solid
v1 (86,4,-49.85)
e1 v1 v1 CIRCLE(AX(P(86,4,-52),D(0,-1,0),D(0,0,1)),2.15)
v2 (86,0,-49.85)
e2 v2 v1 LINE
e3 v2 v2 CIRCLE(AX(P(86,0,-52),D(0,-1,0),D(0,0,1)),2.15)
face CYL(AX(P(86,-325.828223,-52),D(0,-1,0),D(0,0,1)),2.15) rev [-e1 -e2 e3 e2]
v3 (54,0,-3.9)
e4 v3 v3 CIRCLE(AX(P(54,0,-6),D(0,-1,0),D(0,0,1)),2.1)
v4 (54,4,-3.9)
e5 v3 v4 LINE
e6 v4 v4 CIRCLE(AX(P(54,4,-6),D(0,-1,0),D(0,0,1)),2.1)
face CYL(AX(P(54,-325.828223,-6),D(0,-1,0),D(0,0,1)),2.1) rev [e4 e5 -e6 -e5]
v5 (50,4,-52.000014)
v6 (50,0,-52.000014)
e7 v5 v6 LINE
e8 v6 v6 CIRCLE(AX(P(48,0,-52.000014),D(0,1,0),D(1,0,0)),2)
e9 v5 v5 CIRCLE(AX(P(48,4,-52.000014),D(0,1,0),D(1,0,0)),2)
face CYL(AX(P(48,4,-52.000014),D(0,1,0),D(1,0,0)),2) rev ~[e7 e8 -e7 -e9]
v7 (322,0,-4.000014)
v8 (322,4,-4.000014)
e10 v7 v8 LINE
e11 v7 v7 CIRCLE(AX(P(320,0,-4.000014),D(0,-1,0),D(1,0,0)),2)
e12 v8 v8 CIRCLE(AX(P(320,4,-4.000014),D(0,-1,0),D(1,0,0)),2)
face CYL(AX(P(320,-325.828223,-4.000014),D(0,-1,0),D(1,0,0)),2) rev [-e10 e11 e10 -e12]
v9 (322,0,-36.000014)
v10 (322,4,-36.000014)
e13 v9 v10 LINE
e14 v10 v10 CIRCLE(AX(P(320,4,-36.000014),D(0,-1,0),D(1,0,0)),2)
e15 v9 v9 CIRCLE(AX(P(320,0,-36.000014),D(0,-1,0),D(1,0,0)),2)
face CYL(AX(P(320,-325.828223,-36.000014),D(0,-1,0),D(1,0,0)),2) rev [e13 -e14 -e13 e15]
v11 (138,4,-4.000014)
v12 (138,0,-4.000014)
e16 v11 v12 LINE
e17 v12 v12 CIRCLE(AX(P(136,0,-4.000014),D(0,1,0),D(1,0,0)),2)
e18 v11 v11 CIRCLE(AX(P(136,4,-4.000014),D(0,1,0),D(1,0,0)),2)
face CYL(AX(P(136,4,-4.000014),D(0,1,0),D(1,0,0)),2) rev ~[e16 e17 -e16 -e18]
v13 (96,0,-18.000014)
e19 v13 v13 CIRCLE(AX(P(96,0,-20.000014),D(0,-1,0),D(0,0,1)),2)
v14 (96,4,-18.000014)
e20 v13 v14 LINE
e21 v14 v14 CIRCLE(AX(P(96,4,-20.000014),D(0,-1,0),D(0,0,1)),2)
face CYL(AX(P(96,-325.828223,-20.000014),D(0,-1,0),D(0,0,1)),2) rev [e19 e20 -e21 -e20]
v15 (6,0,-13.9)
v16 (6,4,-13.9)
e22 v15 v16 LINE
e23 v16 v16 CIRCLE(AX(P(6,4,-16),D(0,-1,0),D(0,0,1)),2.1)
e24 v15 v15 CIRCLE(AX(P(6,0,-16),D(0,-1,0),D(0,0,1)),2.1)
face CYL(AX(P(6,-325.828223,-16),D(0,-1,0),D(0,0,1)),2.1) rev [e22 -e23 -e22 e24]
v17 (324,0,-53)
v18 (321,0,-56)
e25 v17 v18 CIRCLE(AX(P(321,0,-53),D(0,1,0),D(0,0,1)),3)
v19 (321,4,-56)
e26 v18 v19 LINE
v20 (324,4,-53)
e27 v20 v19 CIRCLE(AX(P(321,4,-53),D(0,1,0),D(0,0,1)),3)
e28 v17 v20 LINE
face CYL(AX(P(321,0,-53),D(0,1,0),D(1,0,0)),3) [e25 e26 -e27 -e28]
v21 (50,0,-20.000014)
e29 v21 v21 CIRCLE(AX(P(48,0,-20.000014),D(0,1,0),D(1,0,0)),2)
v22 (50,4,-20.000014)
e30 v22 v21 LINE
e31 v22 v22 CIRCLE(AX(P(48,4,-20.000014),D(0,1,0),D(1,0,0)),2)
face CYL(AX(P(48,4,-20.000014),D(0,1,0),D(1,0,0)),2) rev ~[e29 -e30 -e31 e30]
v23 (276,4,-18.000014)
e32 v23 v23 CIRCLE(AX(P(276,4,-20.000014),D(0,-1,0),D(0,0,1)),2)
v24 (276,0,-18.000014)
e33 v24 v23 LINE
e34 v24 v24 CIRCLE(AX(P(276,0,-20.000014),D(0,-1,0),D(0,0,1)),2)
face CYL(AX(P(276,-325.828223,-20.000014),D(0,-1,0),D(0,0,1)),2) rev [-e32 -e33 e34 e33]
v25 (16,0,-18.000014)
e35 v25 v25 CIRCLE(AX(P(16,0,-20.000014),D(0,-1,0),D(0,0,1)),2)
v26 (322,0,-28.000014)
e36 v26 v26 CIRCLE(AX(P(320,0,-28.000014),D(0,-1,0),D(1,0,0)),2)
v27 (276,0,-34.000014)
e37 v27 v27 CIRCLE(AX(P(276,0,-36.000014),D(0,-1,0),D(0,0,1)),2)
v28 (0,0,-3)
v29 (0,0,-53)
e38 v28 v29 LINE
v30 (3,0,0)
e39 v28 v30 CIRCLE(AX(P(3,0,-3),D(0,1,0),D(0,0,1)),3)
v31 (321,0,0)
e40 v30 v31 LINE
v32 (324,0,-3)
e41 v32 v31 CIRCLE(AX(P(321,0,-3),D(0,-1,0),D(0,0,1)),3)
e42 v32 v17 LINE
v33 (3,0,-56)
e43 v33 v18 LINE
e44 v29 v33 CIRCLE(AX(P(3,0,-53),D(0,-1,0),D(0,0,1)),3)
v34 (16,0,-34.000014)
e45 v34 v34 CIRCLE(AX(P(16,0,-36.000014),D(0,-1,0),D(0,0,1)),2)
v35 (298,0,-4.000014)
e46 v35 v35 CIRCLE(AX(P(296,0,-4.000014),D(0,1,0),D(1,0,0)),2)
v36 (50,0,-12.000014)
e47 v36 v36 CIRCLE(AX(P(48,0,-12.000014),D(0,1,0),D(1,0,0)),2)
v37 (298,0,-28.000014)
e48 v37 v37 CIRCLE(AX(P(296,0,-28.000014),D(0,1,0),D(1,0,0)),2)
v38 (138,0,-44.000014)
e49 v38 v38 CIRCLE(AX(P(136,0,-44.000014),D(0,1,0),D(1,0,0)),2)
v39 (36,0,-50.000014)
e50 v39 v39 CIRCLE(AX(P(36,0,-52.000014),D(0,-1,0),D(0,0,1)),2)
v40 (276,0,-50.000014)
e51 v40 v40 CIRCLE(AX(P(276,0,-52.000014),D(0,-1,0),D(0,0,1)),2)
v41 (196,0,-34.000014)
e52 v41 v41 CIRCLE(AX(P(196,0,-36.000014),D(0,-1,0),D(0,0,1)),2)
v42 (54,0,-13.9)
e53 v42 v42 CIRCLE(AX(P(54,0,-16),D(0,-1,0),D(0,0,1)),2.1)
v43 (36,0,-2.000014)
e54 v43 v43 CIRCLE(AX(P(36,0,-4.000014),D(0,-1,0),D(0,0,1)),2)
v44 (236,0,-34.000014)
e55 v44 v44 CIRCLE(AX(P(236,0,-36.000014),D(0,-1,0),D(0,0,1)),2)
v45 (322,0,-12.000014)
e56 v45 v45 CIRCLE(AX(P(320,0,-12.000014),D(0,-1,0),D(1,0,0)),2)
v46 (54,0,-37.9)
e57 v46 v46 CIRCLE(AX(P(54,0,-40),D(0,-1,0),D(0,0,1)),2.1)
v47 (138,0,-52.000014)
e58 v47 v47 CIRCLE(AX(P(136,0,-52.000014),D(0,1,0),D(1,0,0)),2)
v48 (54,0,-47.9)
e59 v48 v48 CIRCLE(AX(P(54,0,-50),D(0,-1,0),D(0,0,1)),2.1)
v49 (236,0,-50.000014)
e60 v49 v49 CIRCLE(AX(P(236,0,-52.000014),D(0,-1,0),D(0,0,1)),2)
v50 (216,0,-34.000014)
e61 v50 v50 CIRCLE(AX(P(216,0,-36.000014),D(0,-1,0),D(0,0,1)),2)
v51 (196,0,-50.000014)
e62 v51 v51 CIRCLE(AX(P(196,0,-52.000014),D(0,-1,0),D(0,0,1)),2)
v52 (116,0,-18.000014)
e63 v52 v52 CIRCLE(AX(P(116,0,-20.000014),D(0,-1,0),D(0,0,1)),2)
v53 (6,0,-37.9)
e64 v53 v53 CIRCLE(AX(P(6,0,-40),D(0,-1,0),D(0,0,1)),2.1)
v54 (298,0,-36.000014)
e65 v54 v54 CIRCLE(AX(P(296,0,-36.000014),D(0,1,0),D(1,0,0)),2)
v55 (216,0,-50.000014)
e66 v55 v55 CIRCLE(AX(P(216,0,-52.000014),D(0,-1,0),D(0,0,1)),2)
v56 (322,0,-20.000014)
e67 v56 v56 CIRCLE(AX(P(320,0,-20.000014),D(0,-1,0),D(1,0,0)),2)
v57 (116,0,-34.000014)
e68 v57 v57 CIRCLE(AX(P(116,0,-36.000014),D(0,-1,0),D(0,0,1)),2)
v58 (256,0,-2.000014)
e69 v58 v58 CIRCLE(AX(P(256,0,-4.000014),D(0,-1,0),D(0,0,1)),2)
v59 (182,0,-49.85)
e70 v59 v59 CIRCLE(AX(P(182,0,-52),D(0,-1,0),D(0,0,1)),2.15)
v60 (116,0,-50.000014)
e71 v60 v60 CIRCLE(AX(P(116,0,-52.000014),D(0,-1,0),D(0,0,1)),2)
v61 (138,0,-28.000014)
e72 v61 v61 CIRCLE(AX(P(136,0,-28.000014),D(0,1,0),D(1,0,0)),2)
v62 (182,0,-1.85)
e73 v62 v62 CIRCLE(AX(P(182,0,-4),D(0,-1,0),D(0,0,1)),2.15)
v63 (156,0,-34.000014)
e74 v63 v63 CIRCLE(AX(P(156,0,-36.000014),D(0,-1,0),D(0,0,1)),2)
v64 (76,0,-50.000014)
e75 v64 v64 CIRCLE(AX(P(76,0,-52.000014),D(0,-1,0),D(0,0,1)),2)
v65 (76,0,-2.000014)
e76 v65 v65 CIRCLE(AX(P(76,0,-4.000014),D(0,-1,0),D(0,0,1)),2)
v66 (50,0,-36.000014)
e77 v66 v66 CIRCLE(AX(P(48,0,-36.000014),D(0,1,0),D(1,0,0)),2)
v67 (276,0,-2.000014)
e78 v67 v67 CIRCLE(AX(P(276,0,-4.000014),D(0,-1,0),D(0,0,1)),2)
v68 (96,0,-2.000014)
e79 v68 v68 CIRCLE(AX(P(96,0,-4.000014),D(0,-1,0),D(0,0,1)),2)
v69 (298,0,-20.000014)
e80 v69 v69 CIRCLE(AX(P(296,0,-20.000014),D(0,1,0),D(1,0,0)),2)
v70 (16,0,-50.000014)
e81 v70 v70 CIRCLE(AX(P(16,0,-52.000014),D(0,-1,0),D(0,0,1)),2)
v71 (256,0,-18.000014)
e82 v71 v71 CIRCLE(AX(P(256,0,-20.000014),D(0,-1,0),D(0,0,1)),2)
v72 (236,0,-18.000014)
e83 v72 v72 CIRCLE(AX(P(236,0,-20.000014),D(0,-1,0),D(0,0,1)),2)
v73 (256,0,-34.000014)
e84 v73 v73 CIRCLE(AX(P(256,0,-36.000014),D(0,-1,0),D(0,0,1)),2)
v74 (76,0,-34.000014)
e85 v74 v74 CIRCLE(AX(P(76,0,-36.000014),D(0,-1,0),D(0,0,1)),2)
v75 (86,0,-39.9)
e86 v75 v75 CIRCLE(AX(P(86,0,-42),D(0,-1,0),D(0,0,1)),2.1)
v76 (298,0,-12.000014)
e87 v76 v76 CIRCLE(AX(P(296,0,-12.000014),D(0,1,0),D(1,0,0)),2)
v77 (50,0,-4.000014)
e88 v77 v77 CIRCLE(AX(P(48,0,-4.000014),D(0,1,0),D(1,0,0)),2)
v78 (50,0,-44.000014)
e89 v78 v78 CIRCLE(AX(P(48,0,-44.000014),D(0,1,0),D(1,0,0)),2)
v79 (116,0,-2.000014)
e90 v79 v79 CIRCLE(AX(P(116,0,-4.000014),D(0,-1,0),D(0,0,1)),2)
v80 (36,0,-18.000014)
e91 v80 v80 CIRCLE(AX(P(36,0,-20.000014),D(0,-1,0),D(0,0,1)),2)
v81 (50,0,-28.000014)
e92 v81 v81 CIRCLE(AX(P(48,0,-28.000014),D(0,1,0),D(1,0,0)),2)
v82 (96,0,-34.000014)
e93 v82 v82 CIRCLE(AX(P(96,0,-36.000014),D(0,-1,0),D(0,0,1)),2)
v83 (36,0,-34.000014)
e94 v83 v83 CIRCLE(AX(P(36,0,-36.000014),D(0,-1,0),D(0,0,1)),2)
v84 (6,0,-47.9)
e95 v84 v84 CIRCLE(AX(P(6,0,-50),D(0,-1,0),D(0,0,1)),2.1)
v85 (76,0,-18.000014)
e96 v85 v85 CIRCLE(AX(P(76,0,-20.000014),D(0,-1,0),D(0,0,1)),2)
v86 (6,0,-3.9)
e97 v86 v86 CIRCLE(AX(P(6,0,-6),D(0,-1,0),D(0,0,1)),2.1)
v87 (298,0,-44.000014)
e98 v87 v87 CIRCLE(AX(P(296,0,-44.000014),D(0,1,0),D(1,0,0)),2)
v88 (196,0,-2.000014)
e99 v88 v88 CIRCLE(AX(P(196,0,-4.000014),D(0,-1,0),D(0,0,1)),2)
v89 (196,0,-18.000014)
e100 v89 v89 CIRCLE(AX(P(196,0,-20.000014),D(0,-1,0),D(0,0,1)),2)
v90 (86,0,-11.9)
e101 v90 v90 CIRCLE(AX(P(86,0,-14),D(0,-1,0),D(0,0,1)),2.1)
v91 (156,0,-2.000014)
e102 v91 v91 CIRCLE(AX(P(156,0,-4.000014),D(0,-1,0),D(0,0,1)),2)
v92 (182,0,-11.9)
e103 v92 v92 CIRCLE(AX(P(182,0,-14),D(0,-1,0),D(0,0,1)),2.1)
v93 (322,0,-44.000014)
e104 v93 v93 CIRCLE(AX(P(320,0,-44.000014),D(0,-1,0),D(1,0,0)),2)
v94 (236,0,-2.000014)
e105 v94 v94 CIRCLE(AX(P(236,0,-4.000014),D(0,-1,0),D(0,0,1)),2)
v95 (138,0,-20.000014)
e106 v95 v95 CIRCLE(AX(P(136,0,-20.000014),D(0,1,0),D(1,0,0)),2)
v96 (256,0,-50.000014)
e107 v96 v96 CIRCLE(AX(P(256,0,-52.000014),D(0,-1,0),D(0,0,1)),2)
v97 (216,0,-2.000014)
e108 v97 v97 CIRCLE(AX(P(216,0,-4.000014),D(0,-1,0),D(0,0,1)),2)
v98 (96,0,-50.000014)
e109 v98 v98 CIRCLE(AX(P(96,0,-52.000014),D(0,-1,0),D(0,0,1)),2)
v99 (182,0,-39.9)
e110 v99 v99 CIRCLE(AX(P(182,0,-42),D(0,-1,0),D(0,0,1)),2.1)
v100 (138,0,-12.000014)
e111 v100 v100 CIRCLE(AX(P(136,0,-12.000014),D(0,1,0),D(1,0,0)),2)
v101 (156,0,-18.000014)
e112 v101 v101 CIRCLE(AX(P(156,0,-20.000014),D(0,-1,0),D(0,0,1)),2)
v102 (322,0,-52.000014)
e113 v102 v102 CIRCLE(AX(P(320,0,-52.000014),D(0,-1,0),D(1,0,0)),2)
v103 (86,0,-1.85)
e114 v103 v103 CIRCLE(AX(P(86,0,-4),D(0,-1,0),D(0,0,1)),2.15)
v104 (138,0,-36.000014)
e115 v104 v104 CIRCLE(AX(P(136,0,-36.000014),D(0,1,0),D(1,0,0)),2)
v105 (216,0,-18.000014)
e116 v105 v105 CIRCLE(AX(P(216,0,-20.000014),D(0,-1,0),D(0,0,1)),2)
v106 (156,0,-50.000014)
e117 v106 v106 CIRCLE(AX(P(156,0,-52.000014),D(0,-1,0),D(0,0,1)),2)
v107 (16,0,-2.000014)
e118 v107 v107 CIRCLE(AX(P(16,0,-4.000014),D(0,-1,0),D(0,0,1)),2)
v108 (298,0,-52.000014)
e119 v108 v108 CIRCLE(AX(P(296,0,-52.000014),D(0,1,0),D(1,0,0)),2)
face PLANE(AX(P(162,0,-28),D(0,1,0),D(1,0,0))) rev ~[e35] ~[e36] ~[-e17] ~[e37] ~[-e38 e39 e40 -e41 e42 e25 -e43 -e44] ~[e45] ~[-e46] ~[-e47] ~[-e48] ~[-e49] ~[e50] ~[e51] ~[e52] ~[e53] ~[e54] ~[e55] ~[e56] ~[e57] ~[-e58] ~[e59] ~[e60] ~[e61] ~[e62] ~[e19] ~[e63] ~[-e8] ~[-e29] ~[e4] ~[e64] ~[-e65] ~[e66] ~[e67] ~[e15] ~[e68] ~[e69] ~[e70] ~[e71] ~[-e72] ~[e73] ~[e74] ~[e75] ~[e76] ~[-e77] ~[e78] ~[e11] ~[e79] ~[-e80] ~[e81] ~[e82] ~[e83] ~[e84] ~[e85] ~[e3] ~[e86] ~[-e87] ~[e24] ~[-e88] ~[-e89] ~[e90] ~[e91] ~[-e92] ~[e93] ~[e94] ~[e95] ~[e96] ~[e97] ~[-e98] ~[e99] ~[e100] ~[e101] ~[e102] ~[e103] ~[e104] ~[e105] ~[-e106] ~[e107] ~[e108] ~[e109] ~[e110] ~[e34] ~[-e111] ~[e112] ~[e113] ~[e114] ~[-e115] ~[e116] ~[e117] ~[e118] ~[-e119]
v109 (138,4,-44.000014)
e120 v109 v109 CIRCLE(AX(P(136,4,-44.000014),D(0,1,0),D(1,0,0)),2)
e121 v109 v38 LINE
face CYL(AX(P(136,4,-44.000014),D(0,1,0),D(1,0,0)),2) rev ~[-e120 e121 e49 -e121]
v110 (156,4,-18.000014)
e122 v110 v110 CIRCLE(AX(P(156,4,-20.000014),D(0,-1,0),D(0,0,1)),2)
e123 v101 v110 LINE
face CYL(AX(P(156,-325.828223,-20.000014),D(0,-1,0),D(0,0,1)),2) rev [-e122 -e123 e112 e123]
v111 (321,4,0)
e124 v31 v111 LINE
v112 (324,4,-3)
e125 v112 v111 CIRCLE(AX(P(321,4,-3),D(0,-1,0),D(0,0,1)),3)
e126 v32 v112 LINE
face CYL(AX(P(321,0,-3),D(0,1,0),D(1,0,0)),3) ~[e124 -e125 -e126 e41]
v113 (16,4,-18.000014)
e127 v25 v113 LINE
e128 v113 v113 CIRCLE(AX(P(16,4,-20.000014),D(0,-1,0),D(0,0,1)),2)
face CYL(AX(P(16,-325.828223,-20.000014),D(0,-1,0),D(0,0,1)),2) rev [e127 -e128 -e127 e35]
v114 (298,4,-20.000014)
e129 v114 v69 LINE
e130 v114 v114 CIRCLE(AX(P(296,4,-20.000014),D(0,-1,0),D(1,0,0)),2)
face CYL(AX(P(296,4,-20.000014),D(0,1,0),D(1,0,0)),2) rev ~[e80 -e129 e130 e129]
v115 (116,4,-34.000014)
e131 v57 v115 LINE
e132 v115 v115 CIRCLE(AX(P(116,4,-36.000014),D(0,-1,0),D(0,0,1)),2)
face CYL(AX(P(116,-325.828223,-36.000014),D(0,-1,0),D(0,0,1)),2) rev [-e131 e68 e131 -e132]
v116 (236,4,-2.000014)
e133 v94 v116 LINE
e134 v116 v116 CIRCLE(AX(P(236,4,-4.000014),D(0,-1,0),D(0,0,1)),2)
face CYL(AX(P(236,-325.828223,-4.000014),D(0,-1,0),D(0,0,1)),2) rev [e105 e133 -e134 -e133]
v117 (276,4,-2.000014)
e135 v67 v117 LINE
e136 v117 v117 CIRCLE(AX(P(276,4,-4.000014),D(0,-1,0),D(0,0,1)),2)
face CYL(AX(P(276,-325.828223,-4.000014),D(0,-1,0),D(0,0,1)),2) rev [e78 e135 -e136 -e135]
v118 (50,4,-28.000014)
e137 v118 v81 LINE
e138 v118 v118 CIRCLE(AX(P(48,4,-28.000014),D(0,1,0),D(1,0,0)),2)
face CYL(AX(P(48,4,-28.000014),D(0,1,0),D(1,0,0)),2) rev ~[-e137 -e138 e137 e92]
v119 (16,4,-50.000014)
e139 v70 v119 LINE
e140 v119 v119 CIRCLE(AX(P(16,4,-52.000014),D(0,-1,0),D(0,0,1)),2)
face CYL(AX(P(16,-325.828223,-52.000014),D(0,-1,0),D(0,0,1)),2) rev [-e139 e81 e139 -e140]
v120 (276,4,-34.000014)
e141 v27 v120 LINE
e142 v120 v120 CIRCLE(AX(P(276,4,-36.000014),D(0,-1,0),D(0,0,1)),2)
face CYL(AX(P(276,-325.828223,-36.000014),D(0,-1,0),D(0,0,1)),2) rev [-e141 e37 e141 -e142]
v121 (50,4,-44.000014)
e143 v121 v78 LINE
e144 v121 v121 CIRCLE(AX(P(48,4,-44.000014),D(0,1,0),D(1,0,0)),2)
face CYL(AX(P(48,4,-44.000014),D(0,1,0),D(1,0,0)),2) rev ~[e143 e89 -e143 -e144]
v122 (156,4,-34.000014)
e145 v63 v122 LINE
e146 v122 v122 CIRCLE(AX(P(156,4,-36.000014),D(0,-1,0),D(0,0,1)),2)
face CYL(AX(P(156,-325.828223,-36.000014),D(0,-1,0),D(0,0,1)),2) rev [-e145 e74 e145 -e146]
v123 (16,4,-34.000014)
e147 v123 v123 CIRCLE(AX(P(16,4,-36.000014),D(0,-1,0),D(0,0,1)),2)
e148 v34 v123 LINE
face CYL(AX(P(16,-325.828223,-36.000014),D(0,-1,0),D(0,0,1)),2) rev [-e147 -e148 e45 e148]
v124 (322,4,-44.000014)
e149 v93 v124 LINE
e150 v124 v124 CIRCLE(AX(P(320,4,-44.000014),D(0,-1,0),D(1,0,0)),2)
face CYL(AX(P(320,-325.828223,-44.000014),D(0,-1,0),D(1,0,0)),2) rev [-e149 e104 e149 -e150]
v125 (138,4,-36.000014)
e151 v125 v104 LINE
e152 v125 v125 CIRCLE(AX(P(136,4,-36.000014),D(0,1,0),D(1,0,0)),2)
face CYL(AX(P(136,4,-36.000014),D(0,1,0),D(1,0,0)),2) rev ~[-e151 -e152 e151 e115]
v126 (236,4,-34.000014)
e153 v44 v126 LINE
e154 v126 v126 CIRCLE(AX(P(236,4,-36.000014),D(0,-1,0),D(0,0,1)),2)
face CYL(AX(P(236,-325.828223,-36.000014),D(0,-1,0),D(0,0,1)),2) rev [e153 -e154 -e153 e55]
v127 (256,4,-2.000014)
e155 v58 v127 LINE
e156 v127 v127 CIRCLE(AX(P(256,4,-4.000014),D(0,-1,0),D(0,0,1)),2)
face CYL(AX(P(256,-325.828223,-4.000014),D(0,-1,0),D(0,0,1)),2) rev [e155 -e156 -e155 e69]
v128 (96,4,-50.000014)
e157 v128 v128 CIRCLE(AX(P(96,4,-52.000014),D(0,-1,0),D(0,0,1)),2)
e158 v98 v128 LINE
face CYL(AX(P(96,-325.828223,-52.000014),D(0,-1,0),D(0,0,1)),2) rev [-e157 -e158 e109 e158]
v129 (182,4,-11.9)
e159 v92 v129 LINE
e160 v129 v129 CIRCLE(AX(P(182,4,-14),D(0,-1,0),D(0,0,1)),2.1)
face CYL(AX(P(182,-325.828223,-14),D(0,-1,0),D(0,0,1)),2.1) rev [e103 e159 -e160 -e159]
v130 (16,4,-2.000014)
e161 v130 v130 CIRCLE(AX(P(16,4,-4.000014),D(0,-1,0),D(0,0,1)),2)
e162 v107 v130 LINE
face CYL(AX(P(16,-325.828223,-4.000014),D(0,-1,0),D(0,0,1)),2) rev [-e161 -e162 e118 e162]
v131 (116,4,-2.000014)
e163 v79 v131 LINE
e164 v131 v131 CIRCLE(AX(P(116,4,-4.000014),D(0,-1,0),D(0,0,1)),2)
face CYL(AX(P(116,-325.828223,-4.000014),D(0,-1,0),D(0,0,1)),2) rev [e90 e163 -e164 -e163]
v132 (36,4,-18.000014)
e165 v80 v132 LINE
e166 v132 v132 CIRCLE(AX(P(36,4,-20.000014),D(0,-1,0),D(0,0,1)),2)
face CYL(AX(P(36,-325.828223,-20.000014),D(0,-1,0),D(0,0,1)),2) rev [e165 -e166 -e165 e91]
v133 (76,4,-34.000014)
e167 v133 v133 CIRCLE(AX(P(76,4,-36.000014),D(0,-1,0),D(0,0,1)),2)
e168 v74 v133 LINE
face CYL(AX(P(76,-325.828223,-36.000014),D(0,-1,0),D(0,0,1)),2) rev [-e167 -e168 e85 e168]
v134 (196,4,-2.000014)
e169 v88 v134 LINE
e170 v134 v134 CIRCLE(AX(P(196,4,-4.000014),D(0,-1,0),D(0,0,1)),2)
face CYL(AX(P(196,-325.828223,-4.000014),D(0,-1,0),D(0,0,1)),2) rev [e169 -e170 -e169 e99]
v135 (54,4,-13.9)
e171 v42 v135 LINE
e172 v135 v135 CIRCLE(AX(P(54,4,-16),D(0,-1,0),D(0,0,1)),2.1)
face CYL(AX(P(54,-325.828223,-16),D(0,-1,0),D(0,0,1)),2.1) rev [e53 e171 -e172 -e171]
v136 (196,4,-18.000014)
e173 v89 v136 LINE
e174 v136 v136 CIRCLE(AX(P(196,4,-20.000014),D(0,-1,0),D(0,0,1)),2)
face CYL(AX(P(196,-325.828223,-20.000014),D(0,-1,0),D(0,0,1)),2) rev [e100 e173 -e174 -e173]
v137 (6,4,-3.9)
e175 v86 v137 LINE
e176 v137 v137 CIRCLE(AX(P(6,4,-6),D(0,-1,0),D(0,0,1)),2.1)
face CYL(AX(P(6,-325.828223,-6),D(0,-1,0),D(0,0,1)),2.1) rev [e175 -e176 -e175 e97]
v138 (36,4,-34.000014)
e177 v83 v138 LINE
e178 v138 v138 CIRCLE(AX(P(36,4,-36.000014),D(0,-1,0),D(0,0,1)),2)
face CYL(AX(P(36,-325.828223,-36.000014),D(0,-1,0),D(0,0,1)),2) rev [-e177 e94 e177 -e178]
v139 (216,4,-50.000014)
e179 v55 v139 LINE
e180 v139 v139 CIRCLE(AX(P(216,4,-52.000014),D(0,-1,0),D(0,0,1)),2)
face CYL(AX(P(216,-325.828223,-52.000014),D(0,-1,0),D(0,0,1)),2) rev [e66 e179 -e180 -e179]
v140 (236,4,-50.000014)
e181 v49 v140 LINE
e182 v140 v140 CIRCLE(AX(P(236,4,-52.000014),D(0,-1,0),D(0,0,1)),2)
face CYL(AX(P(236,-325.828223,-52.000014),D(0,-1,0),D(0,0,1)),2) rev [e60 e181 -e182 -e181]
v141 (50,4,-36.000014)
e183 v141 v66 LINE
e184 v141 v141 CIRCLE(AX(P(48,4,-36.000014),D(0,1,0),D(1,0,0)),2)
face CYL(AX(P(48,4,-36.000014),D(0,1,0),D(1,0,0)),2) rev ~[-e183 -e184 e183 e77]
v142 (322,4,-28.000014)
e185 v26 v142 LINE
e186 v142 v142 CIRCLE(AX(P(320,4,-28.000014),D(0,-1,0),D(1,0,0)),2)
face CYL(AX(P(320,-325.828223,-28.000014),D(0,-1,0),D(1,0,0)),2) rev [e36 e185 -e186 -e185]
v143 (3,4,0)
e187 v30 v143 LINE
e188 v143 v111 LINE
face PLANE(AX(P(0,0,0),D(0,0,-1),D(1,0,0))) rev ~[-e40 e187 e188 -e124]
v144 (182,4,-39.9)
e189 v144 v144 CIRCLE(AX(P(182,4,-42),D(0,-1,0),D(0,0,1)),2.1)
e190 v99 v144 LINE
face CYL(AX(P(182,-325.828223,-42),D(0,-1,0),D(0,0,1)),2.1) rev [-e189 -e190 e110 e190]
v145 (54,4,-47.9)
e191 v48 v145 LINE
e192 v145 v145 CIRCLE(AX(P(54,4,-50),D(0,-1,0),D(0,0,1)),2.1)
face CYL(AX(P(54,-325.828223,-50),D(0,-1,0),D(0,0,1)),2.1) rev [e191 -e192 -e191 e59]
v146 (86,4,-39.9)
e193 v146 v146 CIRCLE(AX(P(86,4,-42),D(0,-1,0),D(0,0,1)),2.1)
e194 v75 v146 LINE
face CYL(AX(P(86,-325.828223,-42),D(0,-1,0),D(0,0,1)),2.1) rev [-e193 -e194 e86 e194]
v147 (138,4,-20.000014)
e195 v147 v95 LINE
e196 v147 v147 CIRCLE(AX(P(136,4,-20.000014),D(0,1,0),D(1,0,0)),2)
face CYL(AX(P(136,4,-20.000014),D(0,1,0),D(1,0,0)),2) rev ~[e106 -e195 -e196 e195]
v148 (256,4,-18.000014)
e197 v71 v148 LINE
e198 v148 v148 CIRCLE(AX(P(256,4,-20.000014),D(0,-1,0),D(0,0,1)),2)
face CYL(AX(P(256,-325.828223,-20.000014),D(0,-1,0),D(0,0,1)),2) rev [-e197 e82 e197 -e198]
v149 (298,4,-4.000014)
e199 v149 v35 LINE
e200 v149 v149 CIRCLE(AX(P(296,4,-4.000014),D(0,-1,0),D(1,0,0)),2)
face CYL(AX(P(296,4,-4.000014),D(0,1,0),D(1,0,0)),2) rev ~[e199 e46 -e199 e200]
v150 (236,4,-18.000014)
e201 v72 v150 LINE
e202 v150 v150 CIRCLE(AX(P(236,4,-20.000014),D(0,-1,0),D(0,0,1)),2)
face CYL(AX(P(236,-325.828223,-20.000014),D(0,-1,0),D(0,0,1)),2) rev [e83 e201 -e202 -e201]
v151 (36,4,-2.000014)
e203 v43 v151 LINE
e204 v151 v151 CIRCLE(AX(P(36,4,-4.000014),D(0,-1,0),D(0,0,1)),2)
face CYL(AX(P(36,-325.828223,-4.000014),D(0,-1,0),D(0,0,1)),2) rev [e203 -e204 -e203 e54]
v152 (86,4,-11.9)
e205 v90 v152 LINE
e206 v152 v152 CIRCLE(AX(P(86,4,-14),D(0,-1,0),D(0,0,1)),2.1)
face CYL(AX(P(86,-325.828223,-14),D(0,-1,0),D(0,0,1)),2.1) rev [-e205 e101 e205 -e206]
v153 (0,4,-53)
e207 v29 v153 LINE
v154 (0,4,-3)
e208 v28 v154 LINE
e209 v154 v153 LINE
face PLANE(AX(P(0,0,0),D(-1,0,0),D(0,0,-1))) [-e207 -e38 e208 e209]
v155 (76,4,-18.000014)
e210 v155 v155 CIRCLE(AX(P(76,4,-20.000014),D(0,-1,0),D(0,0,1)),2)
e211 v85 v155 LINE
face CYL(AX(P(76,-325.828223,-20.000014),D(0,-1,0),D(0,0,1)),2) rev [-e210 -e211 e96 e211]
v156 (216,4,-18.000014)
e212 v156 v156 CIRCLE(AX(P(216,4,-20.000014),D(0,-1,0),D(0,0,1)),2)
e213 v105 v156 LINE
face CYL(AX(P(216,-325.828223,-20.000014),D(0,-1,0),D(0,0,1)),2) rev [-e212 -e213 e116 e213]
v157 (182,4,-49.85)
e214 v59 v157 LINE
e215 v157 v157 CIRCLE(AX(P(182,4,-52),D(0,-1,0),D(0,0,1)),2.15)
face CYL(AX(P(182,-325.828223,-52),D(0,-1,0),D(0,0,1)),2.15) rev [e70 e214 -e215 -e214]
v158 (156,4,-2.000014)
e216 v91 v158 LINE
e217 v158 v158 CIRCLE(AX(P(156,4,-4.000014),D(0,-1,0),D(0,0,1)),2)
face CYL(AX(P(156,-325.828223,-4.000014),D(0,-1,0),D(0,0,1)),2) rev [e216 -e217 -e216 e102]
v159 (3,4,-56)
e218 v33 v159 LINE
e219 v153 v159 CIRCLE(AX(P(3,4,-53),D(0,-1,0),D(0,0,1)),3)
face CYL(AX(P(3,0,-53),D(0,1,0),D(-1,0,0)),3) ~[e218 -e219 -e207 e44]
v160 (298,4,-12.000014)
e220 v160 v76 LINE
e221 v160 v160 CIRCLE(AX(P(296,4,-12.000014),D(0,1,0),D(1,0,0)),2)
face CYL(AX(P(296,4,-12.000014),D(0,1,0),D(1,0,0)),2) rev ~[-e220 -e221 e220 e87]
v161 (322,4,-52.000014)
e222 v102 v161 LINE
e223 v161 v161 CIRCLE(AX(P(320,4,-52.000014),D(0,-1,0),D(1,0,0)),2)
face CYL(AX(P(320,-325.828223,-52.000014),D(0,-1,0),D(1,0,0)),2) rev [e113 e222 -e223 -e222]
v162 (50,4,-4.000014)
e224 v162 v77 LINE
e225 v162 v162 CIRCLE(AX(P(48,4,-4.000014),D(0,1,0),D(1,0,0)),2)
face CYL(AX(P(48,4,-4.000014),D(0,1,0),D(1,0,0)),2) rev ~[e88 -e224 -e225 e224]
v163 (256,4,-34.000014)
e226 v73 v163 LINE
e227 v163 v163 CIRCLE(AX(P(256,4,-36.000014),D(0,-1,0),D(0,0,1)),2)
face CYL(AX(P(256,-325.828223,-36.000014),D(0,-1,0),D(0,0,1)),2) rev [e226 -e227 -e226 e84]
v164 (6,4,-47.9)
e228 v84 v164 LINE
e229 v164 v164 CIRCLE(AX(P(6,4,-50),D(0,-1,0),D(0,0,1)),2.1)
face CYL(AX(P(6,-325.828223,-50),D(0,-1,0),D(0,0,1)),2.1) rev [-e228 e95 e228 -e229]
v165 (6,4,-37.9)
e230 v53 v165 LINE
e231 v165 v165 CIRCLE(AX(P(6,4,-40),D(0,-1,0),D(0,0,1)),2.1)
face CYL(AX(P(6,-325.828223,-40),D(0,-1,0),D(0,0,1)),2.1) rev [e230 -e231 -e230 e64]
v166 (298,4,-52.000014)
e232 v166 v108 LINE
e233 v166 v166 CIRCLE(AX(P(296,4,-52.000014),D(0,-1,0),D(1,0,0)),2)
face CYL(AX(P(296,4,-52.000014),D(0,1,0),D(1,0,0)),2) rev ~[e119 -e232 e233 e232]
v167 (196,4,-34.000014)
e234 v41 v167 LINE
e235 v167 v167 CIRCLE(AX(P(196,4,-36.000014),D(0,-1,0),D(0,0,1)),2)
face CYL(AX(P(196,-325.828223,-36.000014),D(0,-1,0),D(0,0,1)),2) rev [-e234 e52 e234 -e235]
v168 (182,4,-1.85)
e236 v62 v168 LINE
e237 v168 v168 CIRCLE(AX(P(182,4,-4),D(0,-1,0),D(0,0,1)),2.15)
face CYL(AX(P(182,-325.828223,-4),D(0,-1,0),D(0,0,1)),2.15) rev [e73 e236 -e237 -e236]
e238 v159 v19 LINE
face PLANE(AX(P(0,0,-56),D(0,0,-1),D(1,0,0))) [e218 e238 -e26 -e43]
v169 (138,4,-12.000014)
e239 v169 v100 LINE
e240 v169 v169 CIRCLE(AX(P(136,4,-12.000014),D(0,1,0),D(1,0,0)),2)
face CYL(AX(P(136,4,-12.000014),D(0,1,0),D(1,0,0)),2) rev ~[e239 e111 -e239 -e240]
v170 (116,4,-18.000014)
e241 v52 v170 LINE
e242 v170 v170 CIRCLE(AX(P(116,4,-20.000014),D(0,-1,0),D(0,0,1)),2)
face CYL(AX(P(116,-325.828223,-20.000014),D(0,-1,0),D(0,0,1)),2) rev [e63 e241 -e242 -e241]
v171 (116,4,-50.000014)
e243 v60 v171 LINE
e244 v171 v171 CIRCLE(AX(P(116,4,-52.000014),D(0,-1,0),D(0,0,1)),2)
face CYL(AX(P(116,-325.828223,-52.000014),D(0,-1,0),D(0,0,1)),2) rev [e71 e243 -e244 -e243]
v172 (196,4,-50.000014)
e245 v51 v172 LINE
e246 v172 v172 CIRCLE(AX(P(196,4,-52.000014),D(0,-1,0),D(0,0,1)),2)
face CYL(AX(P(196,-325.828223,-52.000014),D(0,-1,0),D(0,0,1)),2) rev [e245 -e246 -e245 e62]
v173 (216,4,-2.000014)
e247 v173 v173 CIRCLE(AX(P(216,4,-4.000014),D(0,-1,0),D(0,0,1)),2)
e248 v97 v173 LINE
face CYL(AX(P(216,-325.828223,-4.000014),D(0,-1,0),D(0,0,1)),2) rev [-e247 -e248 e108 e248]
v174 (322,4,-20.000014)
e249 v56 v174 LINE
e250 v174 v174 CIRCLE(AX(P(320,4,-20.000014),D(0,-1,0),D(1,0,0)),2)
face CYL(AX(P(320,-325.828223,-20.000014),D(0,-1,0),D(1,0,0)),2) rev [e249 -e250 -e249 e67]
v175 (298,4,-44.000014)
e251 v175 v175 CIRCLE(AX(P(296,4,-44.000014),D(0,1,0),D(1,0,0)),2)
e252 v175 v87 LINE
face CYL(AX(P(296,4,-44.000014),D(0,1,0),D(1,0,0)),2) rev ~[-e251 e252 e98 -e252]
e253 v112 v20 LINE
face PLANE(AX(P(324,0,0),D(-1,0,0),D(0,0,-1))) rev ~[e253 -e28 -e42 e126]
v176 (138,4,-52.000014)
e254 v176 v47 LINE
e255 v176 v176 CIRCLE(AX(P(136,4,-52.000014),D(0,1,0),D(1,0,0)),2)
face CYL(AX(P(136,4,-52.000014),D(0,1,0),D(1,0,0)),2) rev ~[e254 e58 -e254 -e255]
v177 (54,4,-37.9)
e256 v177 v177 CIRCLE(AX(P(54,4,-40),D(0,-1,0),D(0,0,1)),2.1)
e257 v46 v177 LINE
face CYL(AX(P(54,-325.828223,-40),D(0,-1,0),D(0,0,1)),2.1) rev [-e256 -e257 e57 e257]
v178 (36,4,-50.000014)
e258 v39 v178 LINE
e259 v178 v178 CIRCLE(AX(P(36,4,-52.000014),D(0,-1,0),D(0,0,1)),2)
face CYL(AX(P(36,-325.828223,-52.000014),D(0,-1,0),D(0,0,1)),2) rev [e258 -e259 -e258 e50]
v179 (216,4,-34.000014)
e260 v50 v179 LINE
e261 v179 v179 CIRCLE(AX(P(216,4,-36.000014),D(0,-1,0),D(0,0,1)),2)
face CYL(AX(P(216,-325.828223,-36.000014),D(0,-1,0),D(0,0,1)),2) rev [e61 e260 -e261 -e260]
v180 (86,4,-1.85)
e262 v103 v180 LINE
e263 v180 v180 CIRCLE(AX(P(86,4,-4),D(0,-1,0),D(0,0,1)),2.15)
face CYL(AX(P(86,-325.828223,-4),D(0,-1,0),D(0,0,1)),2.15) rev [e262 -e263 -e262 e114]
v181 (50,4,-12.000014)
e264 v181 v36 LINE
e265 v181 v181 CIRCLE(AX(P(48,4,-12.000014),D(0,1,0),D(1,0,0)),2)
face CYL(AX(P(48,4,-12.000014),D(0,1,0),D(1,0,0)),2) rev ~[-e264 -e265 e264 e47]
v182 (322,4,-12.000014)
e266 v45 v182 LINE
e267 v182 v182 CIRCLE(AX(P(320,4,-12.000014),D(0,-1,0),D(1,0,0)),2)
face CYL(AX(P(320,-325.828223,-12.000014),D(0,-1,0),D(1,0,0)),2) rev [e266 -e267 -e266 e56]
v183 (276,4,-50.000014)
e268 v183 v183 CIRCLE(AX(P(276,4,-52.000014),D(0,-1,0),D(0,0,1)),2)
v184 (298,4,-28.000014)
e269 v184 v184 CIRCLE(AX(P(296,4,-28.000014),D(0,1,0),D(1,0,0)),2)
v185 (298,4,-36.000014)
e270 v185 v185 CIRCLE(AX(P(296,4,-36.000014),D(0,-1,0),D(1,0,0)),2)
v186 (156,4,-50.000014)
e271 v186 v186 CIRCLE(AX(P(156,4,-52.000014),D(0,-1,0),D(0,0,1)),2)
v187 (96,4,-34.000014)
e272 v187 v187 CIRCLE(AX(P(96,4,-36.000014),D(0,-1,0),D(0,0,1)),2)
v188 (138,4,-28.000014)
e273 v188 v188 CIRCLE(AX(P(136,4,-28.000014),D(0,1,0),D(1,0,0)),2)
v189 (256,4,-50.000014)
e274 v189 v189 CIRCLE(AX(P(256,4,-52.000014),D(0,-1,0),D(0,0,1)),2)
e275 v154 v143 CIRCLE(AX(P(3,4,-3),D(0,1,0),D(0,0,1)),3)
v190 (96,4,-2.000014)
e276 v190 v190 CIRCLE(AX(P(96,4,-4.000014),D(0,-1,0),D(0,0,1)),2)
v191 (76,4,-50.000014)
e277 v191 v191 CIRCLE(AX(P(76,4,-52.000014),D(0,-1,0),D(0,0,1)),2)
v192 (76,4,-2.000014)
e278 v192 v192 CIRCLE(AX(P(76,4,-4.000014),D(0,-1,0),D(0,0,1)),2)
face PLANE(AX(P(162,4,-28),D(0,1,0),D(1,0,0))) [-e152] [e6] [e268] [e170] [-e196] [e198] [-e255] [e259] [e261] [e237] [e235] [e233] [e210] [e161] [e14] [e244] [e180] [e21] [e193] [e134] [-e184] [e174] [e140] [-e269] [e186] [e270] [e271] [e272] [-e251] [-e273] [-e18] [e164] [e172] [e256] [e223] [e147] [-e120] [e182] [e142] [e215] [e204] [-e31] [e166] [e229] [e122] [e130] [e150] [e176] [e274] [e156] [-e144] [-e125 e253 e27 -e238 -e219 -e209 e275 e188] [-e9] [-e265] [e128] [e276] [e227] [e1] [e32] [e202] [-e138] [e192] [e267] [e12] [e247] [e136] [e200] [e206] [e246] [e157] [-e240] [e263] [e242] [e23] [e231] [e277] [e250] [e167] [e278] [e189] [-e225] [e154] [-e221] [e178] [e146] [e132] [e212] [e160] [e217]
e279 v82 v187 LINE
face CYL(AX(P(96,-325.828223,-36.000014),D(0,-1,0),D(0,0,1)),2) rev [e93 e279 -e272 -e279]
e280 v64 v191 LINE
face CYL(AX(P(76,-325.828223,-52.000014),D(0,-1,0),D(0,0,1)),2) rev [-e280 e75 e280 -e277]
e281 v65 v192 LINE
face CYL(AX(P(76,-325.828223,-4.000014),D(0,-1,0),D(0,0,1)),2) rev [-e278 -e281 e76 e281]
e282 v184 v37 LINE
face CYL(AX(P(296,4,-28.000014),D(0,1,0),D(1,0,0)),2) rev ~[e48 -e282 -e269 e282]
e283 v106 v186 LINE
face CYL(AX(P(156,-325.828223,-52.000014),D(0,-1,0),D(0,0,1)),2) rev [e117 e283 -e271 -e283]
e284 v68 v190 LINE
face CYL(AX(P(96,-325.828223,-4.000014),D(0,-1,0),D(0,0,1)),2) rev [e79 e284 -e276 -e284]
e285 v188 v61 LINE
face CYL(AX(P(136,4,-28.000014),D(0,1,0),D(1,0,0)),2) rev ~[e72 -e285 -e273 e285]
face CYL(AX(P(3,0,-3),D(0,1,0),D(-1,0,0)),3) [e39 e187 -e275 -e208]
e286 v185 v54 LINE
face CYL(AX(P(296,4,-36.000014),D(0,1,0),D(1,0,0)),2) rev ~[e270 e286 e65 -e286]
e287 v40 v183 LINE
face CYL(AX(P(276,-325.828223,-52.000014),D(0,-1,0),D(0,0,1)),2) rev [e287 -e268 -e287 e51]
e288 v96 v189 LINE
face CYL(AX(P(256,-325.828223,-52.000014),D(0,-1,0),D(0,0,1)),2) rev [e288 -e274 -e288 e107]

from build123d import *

# Parameters (mm, degrees)
SKETCH_1_W               = 324
SKETCH_1_H               = 56
EXTRUDE_1_DEPTH          = 4
CUT_EXTRUDE_1_DEPTH      = 10
CUT_EXTRUDE_2_DEPTH      = 329.828222633
CUT_EXTRUDE_2_DEPTH_BACK = 329.828222633
SKETCH_3_R               = 2.15
SKETCH_3_R_2             = 2.1
CUT_EXTRUDE_3_DEPTH      = 329.828222633
CUT_EXTRUDE_3_DEPTH_BACK = 329.828222633
SKETCH_4_R               = 2
FILLET_1_R               = 3


with BuildPart() as part:
    # 草图1 → 凸台-拉伸1 (new body)
    with BuildSketch(Plane(origin=(0, 0, 0), x_dir=(1, 0, 0), z_dir=(0, 1, 0))):
        with Locations((162, 28)):
            Rectangle(SKETCH_1_W, SKETCH_1_H)
    extrude(amount=EXTRUDE_1_DEPTH)

    # 草图2 → 切除-拉伸1 (cut)
    with BuildSketch(Plane(origin=(0, 4, 0), x_dir=(1, 0, 0), z_dir=(0, 1, 0))):
        with BuildLine():
            ThreePointArc((294, 44.000014101), (296, 42.000014101), (298, 44.000014101))
            ThreePointArc((298, 44.000014101), (296, 46.000014101), (294, 44.000014101))
        make_face()
        with BuildLine():
            ThreePointArc((294, 52.000014101), (296, 50.000014101), (298, 52.000014101))
            ThreePointArc((298, 52.000014101), (296, 54.000014101), (294, 52.000014101))
        make_face()
        with BuildLine():
            ThreePointArc((294, 12.000014101), (296, 10.000014101), (298, 12.000014101))
            ThreePointArc((298, 12.000014101), (296, 14.000014101), (294, 12.000014101))
        make_face()
        with BuildLine():
            ThreePointArc((294, 4.000014101), (296, 2.000014101), (298, 4.000014101))
            ThreePointArc((298, 4.000014101), (296, 6.000014101), (294, 4.000014101))
        make_face()
        with BuildLine():
            ThreePointArc((294, 20.000014101), (296, 18.000014101), (298, 20.000014101))
            ThreePointArc((298, 20.000014101), (296, 22.000014101), (294, 20.000014101))
        make_face()
        with BuildLine():
            ThreePointArc((294, 28.000014101), (296, 26.000014101), (298, 28.000014101))
            ThreePointArc((298, 28.000014101), (296, 30.000014101), (294, 28.000014101))
        make_face()
        with BuildLine():
            ThreePointArc((294, 36.000014101), (296, 34.000014101), (298, 36.000014101))
            ThreePointArc((298, 36.000014101), (296, 38.000014101), (294, 36.000014101))
        make_face()
        with BuildLine():
            ThreePointArc((134, 44.000014101), (136, 42.000014101), (138, 44.000014101))
            ThreePointArc((138, 44.000014101), (136, 46.000014101), (134, 44.000014101))
        make_face()
        with BuildLine():
            ThreePointArc((134, 52.000014101), (136, 50.000014101), (138, 52.000014101))
            ThreePointArc((138, 52.000014101), (136, 54.000014101), (134, 52.000014101))
        make_face()
        with BuildLine():
            ThreePointArc((134, 12.000014101), (136, 10.000014101), (138, 12.000014101))
            ThreePointArc((138, 12.000014101), (136, 14.000014101), (134, 12.000014101))
        make_face()
        with BuildLine():
            ThreePointArc((134, 4.000014101), (136, 2.000014101), (138, 4.000014101))
            ThreePointArc((138, 4.000014101), (136, 6.000014101), (134, 4.000014101))
        make_face()
        with BuildLine():
            ThreePointArc((134, 20.000014101), (136, 18.000014101), (138, 20.000014101))
            ThreePointArc((138, 20.000014101), (136, 22.000014101), (134, 20.000014101))
        make_face()
        with BuildLine():
            ThreePointArc((134, 28.000014101), (136, 26.000014101), (138, 28.000014101))
            ThreePointArc((138, 28.000014101), (136, 30.000014101), (134, 28.000014101))
        make_face()
        with BuildLine():
            ThreePointArc((134, 36.000014101), (136, 34.000014101), (138, 36.000014101))
            ThreePointArc((138, 36.000014101), (136, 38.000014101), (134, 36.000014101))
        make_face()
        with BuildLine():
            ThreePointArc((46, 44.000014101), (48, 42.000014101), (50, 44.000014101))
            ThreePointArc((50, 44.000014101), (48, 46.000014101), (46, 44.000014101))
        make_face()
        with BuildLine():
            ThreePointArc((46, 52.000014101), (48, 50.000014101), (50, 52.000014101))
            ThreePointArc((50, 52.000014101), (48, 54.000014101), (46, 52.000014101))
        make_face()
        with BuildLine():
            ThreePointArc((46, 12.000014101), (48, 10.000014101), (50, 12.000014101))
            ThreePointArc((50, 12.000014101), (48, 14.000014101), (46, 12.000014101))
        make_face()
        with BuildLine():
            ThreePointArc((46, 4.000014101), (48, 2.000014101), (50, 4.000014101))
            ThreePointArc((50, 4.000014101), (48, 6.000014101), (46, 4.000014101))
        make_face()
        with BuildLine():
            ThreePointArc((46, 20.000014101), (48, 18.000014101), (50, 20.000014101))
            ThreePointArc((50, 20.000014101), (48, 22.000014101), (46, 20.000014101))
        make_face()
        with BuildLine():
            ThreePointArc((46, 28.000014101), (48, 26.000014101), (50, 28.000014101))
            ThreePointArc((50, 28.000014101), (48, 30.000014101), (46, 28.000014101))
        make_face()
        with BuildLine():
            ThreePointArc((46, 36.000014101), (48, 34.000014101), (50, 36.000014101))
            ThreePointArc((50, 36.000014101), (48, 38.000014101), (46, 36.000014101))
        make_face()
    extrude(amount=-CUT_EXTRUDE_1_DEPTH, mode=Mode.SUBTRACT)

    # 草图3 → 切除-拉伸2 (cut, two sides: drawn at the far end of the back side and taken through both)
    with BuildSketch(Plane(origin=(0, 4, 0), x_dir=(1, 0, 0), z_dir=(0, 1, 0)).offset(-CUT_EXTRUDE_2_DEPTH_BACK)):
        with Locations(Location((182, 52, 0), (0, 0, 270))):
            Circle(SKETCH_3_R)
        with Locations(Location((182, 42, 0), (0, 0, 270))):
            Circle(SKETCH_3_R_2)
        with Locations(Location((182, 14, 0), (0, 0, 270))):
            Circle(SKETCH_3_R_2)
        with Locations(Location((182, 4, 0), (0, 0, 270))):
            Circle(SKETCH_3_R)
        with Locations(Location((86, 52, 0), (0, 0, 270))):
            Circle(SKETCH_3_R)
        with Locations(Location((86, 4, 0), (0, 0, 270))):
            Circle(SKETCH_3_R)
        with Locations(Location((86, 42, 0), (0, 0, 270))):
            Circle(SKETCH_3_R_2)
        with Locations(Location((86, 14, 0), (0, 0, 270))):
            Circle(SKETCH_3_R_2)
        with Locations(Location((6, 6, 0), (0, 0, 270))):
            Circle(SKETCH_3_R_2)
        with Locations(Location((6, 16, 0), (0, 0, 270))):
            Circle(SKETCH_3_R_2)
        with Locations(Location((6, 40, 0), (0, 0, 270))):
            Circle(SKETCH_3_R_2)
        with Locations(Location((6, 50, 0), (0, 0, 270))):
            Circle(SKETCH_3_R_2)
        with Locations(Location((54, 50, 0), (0, 0, 270))):
            Circle(SKETCH_3_R_2)
        with Locations(Location((54, 40, 0), (0, 0, 270))):
            Circle(SKETCH_3_R_2)
        with Locations(Location((54, 6, 0), (0, 0, 270))):
            Circle(SKETCH_3_R_2)
        with Locations(Location((54, 16, 0), (0, 0, 270))):
            Circle(SKETCH_3_R_2)
    extrude(amount=CUT_EXTRUDE_2_DEPTH + CUT_EXTRUDE_2_DEPTH_BACK, mode=Mode.SUBTRACT)

    # 草图4 → 切除-拉伸3 (cut, two sides: drawn at the far end of the back side and taken through both)
    with BuildSketch(Plane(origin=(0, 4, 0), x_dir=(1, 0, 0), z_dir=(0, 1, 0)).offset(-CUT_EXTRUDE_3_DEPTH_BACK)):
        with Locations(Location((296, 4.000014101, 0), (0, 0, 270))):
            Circle(SKETCH_4_R)
        with Locations(Location((296, 20.000014101, 0), (0, 0, 270))):
            Circle(SKETCH_4_R)
        with Locations(Location((296, 36.000014101, 0), (0, 0, 270))):
            Circle(SKETCH_4_R)
        with Locations(Location((296, 52.000014101, 0), (0, 0, 270))):
            Circle(SKETCH_4_R)
        with Locations(Location((276, 4.000014101, 0), (0, 0, 270))):
            Circle(SKETCH_4_R)
        with Locations(Location((276, 20.000014101, 0), (0, 0, 270))):
            Circle(SKETCH_4_R)
        with Locations(Location((276, 36.000014101, 0), (0, 0, 270))):
            Circle(SKETCH_4_R)
        with Locations(Location((276, 52.000014101, 0), (0, 0, 270))):
            Circle(SKETCH_4_R)
        with Locations(Location((256, 4.000014101, 0), (0, 0, 270))):
            Circle(SKETCH_4_R)
        with Locations(Location((256, 20.000014101, 0), (0, 0, 270))):
            Circle(SKETCH_4_R)
        with Locations(Location((256, 36.000014101, 0), (0, 0, 270))):
            Circle(SKETCH_4_R)
        with Locations(Location((256, 52.000014101, 0), (0, 0, 270))):
            Circle(SKETCH_4_R)
        with Locations(Location((236, 4.000014101, 0), (0, 0, 270))):
            Circle(SKETCH_4_R)
        with Locations(Location((236, 20.000014101, 0), (0, 0, 270))):
            Circle(SKETCH_4_R)
        with Locations(Location((236, 36.000014101, 0), (0, 0, 270))):
            Circle(SKETCH_4_R)
        with Locations(Location((236, 52.000014101, 0), (0, 0, 270))):
            Circle(SKETCH_4_R)
        with Locations(Location((216, 4.000014101, 0), (0, 0, 270))):
            Circle(SKETCH_4_R)
        with Locations(Location((216, 20.000014101, 0), (0, 0, 270))):
            Circle(SKETCH_4_R)
        with Locations(Location((216, 36.000014101, 0), (0, 0, 270))):
            Circle(SKETCH_4_R)
        with Locations(Location((216, 52.000014101, 0), (0, 0, 270))):
            Circle(SKETCH_4_R)
        with Locations(Location((196, 4.000014101, 0), (0, 0, 270))):
            Circle(SKETCH_4_R)
        with Locations(Location((196, 20.000014101, 0), (0, 0, 270))):
            Circle(SKETCH_4_R)
        with Locations(Location((196, 36.000014101, 0), (0, 0, 270))):
            Circle(SKETCH_4_R)
        with Locations(Location((196, 52.000014101, 0), (0, 0, 270))):
            Circle(SKETCH_4_R)
        with Locations(Location((156, 4.000014101, 0), (0, 0, 270))):
            Circle(SKETCH_4_R)
        with Locations(Location((156, 20.000014101, 0), (0, 0, 270))):
            Circle(SKETCH_4_R)
        with Locations(Location((156, 36.000014101, 0), (0, 0, 270))):
            Circle(SKETCH_4_R)
        with Locations(Location((156, 52.000014101, 0), (0, 0, 270))):
            Circle(SKETCH_4_R)
        with Locations(Location((116, 4.000014101, 0), (0, 0, 270))):
            Circle(SKETCH_4_R)
        with Locations(Location((116, 20.000014101, 0), (0, 0, 270))):
            Circle(SKETCH_4_R)
        with Locations(Location((116, 36.000014101, 0), (0, 0, 270))):
            Circle(SKETCH_4_R)
        with Locations(Location((116, 52.000014101, 0), (0, 0, 270))):
            Circle(SKETCH_4_R)
        with Locations(Location((96, 4.000014101, 0), (0, 0, 270))):
            Circle(SKETCH_4_R)
        with Locations(Location((96, 20.000014101, 0), (0, 0, 270))):
            Circle(SKETCH_4_R)
        with Locations(Location((96, 36.000014101, 0), (0, 0, 270))):
            Circle(SKETCH_4_R)
        with Locations(Location((96, 52.000014101, 0), (0, 0, 270))):
            Circle(SKETCH_4_R)
        with Locations(Location((76, 4.000014101, 0), (0, 0, 270))):
            Circle(SKETCH_4_R)
        with Locations(Location((76, 20.000014101, 0), (0, 0, 270))):
            Circle(SKETCH_4_R)
        with Locations(Location((76, 36.000014101, 0), (0, 0, 270))):
            Circle(SKETCH_4_R)
        with Locations(Location((76, 52.000014101, 0), (0, 0, 270))):
            Circle(SKETCH_4_R)
        with Locations(Location((36, 4.000014101, 0), (0, 0, 270))):
            Circle(SKETCH_4_R)
        with Locations(Location((36, 20.000014101, 0), (0, 0, 270))):
            Circle(SKETCH_4_R)
        with Locations(Location((36, 36.000014101, 0), (0, 0, 270))):
            Circle(SKETCH_4_R)
        with Locations(Location((36, 52.000014101, 0), (0, 0, 270))):
            Circle(SKETCH_4_R)
        with Locations(Location((16, 4.000014101, 0), (0, 0, 270))):
            Circle(SKETCH_4_R)
        with Locations(Location((16, 20.000014101, 0), (0, 0, 270))):
            Circle(SKETCH_4_R)
        with Locations(Location((16, 36.000014101, 0), (0, 0, 270))):
            Circle(SKETCH_4_R)
        with Locations(Location((16, 52.000014101, 0), (0, 0, 270))):
            Circle(SKETCH_4_R)
        with BuildLine():
            ThreePointArc((318, 44.000014101), (320, 42.000014101), (322, 44.000014101))
            ThreePointArc((322, 44.000014101), (320, 46.000014101), (318, 44.000014101))
        make_face()
        with BuildLine():
            ThreePointArc((318, 52.000014101), (320, 50.000014101), (322, 52.000014101))
            ThreePointArc((322, 52.000014101), (320, 54.000014101), (318, 52.000014101))
        make_face()
        with BuildLine():
            ThreePointArc((318, 12.000014101), (320, 10.000014101), (322, 12.000014101))
            ThreePointArc((322, 12.000014101), (320, 14.000014101), (318, 12.000014101))
        make_face()
        with BuildLine():
            ThreePointArc((318, 4.000014101), (320, 2.000014101), (322, 4.000014101))
            ThreePointArc((322, 4.000014101), (320, 6.000014101), (318, 4.000014101))
        make_face()
        with BuildLine():
            ThreePointArc((318, 20.000014101), (320, 18.000014101), (322, 20.000014101))
            ThreePointArc((322, 20.000014101), (320, 22.000014101), (318, 20.000014101))
        make_face()
        with BuildLine():
            ThreePointArc((318, 28.000014101), (320, 26.000014101), (322, 28.000014101))
            ThreePointArc((322, 28.000014101), (320, 30.000014101), (318, 28.000014101))
        make_face()
        with BuildLine():
            ThreePointArc((318, 36.000014101), (320, 34.000014101), (322, 36.000014101))
            ThreePointArc((322, 36.000014101), (320, 38.000014101), (318, 36.000014101))
        make_face()
    extrude(amount=CUT_EXTRUDE_3_DEPTH + CUT_EXTRUDE_3_DEPTH_BACK, mode=Mode.SUBTRACT)

    # 圆角1
    fillet_1_edges = [part.edges().sort_by_distance(p)[0] for p in [
        (0, 2, -56),
        (324, 2, -56),
        (324, 2, 0),
        (0, 2, 0),
    ]]
    fillet(fillet_1_edges, radius=FILLET_1_R)


solid = part.part
